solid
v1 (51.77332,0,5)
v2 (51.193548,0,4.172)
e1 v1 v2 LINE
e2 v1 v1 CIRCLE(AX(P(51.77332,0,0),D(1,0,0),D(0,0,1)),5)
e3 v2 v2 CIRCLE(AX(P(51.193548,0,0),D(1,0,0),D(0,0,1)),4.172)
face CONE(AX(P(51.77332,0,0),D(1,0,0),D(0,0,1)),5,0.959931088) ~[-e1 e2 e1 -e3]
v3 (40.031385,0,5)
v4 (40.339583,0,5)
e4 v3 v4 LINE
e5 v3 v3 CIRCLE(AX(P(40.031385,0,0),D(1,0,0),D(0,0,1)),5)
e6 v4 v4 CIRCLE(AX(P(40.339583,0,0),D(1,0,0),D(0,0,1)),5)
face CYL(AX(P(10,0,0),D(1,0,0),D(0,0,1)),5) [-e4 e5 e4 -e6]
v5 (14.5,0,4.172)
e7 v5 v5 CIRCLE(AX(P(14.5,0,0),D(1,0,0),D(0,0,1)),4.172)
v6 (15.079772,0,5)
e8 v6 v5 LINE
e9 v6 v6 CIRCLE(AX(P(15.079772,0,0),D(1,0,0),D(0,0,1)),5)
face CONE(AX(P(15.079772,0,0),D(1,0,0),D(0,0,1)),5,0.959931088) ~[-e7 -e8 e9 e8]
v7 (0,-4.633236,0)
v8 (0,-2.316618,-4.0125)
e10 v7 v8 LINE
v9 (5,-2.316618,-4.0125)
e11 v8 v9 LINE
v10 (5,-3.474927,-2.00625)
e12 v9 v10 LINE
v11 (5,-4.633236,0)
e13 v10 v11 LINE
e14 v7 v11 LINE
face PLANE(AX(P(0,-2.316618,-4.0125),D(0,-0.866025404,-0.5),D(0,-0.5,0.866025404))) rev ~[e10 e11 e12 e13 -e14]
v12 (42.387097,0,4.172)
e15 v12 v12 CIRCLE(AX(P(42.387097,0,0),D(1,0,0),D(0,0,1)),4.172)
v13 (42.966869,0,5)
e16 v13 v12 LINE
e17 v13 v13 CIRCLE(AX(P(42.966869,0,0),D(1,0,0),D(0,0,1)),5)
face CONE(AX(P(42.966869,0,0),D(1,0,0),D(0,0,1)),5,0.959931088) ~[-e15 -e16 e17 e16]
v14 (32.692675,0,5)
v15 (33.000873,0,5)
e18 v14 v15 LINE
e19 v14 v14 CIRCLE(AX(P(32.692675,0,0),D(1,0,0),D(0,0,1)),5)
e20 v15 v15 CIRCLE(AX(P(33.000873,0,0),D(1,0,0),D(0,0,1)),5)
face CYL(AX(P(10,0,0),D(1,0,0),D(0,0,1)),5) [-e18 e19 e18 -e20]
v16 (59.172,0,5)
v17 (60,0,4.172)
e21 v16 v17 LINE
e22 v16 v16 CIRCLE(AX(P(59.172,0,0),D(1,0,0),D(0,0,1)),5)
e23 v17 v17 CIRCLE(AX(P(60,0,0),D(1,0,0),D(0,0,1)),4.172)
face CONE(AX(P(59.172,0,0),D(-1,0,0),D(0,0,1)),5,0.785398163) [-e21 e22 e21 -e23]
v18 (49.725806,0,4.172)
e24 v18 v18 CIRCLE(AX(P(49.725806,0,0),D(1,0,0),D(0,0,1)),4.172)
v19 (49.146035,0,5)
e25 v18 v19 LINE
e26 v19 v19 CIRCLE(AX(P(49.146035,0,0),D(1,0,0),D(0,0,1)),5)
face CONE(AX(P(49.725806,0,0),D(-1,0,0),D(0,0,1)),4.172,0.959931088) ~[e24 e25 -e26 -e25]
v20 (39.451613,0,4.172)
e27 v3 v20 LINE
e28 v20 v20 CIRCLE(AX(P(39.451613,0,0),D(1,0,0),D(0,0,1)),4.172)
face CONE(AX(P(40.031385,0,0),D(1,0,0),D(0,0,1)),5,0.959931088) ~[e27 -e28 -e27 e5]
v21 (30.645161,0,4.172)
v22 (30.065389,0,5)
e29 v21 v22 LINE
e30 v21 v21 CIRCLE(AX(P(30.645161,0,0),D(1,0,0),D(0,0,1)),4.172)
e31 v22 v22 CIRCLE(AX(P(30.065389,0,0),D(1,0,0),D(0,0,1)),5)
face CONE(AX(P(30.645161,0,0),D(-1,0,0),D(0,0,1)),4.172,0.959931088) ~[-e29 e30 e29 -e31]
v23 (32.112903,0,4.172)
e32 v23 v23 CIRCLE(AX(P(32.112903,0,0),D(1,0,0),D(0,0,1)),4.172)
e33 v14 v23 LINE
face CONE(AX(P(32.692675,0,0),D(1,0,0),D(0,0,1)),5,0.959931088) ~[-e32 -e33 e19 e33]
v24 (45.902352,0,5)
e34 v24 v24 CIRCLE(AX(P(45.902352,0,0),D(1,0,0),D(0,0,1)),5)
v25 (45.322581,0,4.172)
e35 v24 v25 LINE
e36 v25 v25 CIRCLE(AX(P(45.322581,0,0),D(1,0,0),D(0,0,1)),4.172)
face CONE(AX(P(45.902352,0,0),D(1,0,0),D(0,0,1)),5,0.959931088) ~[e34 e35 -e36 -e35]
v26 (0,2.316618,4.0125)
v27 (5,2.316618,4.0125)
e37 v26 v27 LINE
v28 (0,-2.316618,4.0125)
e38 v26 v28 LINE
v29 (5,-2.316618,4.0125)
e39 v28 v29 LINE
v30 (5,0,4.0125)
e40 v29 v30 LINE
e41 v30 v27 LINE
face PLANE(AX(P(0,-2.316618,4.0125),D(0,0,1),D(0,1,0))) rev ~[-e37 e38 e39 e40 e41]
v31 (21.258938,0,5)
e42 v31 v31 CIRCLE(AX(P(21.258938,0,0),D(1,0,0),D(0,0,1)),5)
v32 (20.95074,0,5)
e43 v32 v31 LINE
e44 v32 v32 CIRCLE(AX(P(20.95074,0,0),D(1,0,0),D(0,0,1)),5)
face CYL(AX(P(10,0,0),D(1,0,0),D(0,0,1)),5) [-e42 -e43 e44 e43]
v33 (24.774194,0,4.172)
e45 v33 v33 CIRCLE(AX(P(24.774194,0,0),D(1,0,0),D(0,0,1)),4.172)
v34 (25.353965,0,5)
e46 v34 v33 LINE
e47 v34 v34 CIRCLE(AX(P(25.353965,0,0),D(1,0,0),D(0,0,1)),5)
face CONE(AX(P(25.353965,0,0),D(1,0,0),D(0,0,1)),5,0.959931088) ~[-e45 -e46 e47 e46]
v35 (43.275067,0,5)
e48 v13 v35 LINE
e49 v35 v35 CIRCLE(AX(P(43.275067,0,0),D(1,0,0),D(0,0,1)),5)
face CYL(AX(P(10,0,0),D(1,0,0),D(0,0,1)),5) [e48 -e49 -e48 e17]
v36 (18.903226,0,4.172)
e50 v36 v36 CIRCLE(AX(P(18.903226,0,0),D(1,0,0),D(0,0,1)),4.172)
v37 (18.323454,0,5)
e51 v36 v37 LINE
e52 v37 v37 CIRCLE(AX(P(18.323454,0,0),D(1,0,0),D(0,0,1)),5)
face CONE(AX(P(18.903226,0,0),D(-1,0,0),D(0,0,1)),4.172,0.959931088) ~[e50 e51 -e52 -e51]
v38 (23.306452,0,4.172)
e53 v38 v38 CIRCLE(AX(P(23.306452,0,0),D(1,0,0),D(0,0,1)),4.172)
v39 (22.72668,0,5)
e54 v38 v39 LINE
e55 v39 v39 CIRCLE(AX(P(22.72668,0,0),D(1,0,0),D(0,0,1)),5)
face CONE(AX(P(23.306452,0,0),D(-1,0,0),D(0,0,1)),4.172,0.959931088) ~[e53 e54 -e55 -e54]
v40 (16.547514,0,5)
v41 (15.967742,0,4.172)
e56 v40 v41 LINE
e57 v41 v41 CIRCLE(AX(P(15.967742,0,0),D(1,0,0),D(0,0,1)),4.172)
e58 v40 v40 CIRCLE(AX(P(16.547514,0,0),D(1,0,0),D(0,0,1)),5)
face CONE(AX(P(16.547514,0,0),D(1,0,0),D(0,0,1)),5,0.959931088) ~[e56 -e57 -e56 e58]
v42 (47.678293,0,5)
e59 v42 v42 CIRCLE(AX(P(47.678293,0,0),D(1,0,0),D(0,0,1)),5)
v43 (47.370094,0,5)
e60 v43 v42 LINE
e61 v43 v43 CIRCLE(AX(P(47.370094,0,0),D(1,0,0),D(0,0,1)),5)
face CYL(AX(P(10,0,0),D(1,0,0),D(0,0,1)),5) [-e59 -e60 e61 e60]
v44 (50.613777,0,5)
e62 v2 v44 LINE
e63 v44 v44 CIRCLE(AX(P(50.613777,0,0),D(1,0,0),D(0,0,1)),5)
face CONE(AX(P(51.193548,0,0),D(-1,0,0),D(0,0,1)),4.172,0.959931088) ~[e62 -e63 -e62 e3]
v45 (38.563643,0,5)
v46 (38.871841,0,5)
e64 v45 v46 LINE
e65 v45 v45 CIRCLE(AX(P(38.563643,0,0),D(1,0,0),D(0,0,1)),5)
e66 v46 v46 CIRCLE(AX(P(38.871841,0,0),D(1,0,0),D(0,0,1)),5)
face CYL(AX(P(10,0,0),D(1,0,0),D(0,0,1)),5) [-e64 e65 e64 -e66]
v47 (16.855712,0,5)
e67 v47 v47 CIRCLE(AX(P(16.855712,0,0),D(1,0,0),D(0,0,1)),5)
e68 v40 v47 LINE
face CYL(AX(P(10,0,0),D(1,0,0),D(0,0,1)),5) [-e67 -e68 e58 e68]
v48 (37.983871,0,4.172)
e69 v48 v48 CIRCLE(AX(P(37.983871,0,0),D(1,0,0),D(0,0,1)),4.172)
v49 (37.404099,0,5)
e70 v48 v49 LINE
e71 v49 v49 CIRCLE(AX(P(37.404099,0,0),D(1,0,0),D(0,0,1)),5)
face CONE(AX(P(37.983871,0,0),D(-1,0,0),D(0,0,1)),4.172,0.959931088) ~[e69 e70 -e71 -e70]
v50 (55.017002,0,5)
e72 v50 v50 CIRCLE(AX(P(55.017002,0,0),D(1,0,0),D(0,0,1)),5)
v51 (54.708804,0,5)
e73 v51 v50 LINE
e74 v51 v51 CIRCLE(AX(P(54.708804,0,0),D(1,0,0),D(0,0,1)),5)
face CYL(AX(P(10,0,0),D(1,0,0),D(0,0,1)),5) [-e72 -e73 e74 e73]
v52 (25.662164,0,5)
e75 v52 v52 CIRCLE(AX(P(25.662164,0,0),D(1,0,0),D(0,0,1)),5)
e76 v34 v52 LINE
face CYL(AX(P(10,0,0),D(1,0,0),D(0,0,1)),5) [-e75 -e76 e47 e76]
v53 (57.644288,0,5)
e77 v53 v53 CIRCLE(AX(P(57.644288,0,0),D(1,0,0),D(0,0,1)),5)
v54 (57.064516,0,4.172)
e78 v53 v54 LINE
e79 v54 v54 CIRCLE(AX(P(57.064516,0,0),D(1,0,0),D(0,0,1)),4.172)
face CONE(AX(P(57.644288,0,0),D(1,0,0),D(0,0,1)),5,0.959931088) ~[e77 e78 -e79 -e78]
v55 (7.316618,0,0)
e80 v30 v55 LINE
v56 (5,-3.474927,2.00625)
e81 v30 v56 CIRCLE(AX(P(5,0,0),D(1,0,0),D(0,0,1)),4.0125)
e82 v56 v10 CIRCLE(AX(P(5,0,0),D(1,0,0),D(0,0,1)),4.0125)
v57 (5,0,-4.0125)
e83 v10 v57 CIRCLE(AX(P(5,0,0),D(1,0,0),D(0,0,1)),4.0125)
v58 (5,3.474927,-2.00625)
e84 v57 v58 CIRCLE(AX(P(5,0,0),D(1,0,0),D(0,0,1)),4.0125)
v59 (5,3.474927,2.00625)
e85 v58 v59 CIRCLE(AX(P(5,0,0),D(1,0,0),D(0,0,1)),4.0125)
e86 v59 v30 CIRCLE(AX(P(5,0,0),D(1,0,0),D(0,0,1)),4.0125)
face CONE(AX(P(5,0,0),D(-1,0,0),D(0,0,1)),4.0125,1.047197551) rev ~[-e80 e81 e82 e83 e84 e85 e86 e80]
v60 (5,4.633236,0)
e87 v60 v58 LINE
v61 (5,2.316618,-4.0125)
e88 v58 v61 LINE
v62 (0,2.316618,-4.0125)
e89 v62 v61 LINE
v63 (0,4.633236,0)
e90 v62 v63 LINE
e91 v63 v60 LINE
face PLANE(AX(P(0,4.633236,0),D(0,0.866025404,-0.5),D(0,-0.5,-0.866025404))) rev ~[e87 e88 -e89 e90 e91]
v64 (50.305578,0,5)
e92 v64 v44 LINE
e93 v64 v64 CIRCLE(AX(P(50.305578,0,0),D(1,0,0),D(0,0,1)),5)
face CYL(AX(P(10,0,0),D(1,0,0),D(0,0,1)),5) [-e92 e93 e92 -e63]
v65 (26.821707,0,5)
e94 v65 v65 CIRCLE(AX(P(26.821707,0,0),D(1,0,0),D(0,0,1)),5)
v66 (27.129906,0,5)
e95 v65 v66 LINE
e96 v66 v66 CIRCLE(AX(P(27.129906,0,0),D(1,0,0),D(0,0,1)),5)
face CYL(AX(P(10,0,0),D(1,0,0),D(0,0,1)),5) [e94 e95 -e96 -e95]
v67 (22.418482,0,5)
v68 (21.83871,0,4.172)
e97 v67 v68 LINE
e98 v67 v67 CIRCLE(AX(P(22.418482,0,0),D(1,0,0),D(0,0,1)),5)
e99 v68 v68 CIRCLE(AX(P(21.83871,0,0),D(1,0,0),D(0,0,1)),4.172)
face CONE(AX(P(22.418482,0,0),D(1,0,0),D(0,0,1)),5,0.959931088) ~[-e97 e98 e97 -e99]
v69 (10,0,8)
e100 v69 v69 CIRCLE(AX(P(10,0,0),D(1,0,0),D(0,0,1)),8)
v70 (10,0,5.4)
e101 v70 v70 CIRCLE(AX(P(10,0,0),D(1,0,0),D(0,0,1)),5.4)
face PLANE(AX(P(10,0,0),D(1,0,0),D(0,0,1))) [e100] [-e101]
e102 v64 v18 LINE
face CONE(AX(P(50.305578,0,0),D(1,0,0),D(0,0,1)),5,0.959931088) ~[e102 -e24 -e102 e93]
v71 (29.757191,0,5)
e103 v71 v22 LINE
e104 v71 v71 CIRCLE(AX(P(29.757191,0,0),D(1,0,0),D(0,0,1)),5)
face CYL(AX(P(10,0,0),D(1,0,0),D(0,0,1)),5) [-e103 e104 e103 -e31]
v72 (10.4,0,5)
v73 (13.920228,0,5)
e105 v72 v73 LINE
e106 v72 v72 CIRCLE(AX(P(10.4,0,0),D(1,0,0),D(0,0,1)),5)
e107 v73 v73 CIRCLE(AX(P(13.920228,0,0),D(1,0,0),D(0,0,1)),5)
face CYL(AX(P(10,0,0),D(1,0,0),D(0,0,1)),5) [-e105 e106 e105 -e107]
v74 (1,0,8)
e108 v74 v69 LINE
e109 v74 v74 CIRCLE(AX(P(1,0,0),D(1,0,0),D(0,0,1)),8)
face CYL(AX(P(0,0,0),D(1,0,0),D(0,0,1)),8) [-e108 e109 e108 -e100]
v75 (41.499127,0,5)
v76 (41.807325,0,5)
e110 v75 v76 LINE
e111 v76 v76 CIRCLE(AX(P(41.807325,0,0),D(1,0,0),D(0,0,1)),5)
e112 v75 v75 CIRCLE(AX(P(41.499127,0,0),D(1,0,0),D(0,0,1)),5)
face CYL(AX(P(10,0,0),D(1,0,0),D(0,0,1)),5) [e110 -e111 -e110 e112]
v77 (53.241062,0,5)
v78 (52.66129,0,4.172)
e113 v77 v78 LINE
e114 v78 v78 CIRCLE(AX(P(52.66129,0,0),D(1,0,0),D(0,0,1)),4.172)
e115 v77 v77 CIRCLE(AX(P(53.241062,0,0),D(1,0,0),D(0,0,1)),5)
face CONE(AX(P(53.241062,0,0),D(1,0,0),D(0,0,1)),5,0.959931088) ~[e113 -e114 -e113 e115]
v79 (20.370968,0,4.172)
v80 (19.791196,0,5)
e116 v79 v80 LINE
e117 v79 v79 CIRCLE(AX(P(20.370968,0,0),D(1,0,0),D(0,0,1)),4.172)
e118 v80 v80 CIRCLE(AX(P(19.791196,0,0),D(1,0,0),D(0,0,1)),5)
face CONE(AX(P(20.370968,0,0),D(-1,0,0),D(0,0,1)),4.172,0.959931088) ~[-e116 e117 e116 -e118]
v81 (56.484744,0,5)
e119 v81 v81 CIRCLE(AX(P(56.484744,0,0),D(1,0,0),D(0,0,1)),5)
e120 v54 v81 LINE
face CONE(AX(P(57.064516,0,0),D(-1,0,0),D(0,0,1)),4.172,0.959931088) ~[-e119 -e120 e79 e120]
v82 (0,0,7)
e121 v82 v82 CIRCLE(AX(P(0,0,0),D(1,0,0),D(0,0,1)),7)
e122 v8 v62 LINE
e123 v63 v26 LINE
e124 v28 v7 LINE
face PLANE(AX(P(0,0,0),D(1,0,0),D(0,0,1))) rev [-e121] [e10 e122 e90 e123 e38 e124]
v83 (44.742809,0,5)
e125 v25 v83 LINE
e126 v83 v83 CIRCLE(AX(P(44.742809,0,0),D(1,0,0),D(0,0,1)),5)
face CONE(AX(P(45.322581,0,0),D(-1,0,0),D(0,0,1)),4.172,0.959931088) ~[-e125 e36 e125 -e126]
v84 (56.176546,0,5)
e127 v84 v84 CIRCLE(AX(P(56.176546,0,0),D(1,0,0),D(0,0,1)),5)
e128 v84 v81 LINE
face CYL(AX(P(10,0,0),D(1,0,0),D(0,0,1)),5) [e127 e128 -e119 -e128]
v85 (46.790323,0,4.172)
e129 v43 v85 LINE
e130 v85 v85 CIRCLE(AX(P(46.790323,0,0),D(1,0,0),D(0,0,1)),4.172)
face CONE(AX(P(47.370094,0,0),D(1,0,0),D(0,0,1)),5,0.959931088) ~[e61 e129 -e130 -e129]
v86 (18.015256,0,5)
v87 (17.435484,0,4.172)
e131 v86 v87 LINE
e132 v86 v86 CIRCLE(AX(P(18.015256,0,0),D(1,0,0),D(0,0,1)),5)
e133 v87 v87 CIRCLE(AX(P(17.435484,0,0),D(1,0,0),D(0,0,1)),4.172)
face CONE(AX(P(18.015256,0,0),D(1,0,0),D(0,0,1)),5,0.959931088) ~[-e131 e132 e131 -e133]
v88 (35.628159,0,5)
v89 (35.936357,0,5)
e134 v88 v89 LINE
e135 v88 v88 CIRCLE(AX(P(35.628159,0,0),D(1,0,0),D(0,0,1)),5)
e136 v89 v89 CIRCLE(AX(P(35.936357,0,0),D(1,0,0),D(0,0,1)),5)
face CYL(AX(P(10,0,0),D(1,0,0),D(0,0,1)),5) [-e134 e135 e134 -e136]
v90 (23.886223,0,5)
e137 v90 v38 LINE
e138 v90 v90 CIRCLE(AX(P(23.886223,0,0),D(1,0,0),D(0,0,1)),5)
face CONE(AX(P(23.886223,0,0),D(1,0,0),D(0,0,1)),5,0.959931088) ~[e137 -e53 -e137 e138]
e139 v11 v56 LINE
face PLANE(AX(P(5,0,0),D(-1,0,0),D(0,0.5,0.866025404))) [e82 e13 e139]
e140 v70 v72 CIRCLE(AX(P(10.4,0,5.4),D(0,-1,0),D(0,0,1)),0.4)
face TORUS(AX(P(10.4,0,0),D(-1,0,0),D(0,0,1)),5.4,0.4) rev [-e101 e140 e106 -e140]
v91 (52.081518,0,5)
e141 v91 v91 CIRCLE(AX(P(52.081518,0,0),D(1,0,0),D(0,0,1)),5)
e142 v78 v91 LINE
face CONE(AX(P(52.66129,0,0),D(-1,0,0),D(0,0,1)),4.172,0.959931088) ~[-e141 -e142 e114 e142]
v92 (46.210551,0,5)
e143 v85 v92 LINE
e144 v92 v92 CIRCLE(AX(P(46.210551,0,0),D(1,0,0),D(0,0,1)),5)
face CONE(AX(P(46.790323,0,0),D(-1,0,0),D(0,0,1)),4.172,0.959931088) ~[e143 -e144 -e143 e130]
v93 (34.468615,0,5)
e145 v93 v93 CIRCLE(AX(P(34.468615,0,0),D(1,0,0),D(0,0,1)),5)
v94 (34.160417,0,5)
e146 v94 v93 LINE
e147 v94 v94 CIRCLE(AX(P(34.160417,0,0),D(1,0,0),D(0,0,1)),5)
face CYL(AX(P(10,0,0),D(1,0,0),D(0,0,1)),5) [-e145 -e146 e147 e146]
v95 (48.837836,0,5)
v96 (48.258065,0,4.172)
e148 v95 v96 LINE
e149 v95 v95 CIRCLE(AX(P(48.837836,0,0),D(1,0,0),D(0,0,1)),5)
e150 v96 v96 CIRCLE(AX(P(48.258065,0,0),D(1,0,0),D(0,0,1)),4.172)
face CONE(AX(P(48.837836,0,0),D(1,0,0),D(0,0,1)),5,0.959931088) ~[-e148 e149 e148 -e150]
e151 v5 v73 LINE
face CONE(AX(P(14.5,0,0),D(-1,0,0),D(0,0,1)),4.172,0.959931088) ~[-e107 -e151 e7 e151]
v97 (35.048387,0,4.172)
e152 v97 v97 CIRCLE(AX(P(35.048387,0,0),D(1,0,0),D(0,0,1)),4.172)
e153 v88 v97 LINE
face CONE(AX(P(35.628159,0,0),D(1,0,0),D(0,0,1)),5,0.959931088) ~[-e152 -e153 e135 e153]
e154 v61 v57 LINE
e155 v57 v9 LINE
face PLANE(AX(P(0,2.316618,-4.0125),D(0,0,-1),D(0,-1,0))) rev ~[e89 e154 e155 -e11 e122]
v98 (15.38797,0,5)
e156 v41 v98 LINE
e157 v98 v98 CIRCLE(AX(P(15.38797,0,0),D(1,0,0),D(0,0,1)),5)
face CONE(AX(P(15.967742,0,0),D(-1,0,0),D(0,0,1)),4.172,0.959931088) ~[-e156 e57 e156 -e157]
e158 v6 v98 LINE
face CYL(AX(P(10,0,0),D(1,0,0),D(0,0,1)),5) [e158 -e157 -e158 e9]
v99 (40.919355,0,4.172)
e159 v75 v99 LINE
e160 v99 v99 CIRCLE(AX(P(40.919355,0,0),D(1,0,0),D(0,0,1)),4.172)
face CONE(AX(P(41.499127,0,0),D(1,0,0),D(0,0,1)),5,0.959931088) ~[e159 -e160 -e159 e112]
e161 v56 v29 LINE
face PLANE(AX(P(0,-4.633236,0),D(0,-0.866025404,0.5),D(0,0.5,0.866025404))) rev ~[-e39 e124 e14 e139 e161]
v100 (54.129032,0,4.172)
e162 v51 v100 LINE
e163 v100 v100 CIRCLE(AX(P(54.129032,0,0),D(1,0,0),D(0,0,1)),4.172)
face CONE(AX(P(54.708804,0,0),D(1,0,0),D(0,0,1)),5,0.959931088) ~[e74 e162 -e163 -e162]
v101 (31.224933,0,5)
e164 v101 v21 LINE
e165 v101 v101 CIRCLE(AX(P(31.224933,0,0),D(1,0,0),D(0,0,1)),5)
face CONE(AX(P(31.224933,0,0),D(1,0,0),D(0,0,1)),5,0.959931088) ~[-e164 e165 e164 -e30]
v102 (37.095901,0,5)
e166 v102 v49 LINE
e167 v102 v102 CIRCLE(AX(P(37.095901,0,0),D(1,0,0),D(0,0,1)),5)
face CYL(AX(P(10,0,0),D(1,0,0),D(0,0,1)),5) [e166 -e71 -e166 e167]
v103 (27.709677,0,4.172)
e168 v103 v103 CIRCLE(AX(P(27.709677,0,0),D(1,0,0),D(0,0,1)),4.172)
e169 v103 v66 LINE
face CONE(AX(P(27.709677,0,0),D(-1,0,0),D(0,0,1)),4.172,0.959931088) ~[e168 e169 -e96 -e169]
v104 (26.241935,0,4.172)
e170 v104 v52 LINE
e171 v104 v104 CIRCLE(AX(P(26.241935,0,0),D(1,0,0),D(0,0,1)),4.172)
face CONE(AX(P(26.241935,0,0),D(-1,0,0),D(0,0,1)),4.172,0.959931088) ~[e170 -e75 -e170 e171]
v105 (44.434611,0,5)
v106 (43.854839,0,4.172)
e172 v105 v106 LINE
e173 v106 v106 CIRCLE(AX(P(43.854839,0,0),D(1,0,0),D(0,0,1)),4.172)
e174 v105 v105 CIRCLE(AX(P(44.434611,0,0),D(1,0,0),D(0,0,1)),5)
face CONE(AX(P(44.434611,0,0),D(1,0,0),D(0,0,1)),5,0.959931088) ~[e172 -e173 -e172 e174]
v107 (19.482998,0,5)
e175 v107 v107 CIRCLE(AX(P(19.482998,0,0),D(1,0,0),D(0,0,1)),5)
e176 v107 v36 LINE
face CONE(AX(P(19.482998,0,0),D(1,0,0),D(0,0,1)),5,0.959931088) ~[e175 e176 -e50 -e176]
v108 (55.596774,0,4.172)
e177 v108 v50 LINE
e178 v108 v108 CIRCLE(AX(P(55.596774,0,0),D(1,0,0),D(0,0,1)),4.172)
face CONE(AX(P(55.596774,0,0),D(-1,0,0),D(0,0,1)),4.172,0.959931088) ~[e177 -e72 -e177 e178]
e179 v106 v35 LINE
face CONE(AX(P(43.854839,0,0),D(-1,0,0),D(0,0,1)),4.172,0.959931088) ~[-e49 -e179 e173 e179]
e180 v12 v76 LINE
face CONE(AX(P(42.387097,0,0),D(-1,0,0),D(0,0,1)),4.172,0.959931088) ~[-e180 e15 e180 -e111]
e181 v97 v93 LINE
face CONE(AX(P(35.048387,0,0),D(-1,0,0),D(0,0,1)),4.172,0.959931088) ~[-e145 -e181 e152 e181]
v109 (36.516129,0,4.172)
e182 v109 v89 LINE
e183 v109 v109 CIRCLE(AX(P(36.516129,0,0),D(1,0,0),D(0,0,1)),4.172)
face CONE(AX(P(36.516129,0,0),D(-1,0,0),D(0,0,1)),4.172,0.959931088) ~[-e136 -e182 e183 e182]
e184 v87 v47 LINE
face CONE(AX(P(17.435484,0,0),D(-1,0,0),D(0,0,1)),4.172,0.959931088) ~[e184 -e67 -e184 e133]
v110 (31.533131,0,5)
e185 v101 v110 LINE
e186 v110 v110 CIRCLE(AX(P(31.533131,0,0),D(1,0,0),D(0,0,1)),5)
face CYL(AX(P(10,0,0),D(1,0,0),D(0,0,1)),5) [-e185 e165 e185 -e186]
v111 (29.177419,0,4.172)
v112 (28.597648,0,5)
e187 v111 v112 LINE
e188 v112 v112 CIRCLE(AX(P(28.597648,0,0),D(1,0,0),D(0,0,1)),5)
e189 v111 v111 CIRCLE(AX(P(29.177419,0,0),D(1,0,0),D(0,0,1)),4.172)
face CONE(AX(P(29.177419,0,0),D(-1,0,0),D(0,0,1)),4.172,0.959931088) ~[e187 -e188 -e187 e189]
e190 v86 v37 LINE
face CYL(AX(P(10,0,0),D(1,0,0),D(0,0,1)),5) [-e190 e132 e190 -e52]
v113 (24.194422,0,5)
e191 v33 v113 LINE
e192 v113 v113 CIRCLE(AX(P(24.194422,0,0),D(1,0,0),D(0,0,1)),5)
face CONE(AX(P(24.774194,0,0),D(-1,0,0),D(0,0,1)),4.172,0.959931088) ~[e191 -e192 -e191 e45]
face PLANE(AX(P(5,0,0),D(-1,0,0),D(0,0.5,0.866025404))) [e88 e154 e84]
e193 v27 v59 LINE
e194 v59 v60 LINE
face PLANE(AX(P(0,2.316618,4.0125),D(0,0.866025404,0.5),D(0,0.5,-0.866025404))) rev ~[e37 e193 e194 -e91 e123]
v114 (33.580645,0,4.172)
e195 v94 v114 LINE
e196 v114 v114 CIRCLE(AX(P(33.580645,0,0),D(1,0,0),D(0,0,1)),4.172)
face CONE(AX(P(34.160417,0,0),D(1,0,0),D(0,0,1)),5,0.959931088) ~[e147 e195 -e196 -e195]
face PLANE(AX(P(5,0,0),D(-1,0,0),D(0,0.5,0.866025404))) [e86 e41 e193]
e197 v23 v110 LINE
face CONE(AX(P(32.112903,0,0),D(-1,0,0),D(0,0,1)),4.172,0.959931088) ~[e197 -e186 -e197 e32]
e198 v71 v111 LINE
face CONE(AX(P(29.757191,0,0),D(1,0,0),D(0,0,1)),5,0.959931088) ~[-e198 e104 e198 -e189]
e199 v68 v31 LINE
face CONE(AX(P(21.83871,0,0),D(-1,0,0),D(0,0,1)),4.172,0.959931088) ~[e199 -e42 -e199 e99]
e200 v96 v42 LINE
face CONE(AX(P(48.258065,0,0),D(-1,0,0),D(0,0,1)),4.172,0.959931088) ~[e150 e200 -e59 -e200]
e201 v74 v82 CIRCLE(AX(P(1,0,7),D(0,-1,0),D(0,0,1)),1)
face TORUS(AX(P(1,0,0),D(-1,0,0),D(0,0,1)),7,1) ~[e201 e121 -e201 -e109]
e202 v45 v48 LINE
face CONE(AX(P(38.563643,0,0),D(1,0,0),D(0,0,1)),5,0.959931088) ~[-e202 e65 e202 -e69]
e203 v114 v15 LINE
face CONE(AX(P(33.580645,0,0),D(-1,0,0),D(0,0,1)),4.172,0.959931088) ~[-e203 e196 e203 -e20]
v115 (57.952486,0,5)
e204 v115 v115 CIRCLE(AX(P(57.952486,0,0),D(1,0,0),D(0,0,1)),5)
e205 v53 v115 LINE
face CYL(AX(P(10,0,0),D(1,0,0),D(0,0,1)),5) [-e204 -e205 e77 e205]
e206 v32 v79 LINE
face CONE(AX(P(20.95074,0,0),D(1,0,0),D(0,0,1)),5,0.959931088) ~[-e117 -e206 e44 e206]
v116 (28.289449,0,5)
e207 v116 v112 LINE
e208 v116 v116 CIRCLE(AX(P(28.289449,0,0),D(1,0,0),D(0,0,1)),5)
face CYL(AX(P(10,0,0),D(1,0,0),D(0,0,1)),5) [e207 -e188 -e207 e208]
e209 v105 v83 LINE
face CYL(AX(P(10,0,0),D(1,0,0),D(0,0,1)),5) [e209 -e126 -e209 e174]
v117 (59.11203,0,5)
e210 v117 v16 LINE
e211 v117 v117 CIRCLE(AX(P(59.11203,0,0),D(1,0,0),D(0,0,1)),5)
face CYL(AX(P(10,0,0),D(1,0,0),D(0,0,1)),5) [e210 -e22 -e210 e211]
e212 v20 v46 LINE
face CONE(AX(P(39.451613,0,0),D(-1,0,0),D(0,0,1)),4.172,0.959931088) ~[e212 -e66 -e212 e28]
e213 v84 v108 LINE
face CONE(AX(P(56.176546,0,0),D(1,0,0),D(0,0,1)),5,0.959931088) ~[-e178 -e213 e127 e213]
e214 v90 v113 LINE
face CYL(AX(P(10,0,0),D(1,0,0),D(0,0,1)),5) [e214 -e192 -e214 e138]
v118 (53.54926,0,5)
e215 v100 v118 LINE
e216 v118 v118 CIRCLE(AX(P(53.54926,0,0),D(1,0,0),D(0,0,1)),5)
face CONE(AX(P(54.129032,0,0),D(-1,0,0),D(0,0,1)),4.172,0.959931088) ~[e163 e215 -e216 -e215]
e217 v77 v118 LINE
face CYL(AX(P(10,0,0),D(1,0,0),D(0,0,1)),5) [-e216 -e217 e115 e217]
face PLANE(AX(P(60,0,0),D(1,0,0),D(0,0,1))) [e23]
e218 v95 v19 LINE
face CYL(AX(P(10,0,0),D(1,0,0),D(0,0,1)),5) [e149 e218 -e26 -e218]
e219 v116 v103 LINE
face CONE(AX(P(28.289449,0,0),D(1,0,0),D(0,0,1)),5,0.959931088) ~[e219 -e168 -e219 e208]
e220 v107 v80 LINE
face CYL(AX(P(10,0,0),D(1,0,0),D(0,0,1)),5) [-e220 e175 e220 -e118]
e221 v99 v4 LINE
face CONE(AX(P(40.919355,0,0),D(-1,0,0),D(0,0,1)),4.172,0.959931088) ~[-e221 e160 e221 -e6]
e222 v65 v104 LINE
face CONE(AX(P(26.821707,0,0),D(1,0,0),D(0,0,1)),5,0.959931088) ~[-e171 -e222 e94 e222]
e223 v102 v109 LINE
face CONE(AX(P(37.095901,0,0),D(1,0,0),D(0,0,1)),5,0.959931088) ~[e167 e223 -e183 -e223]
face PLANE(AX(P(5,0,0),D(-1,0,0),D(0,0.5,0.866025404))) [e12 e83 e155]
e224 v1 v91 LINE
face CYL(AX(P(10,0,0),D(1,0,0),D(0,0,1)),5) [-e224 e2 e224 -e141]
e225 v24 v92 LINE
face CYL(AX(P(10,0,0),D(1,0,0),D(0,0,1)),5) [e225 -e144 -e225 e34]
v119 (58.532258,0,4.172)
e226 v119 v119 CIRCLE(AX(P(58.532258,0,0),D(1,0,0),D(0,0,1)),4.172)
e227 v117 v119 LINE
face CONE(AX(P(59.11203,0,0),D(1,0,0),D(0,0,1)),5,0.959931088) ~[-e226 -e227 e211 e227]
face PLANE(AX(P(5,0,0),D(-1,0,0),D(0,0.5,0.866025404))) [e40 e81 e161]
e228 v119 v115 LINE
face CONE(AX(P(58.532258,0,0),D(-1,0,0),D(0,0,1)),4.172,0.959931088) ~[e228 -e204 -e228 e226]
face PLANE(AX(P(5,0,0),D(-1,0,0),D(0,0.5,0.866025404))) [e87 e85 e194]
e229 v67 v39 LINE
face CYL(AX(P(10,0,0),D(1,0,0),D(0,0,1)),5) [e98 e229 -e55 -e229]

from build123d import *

# Parameters (mm, degrees)
FILLET1_R       = 0.4
FILLET2_R       = 1
HEX_2_DEPTH     = 5
THDSCHPAT_COUNT = 31
THDSCHPAT_PITCH = 1.467741935


with BuildPart() as part:
    # BodySke → Base-Revolve (revolve)
    with BuildSketch(Plane.XY, mode=Mode.PRIVATE) as base_revolve_sk:
        Polygon((0, 0), (0, 8), (10, 8), (10, 5), (59.172, 5), (60, 4.172), (60, 0), align=None)
    revolve(base_revolve_sk.sketch.rotate(Axis((-31.75, 0, 0), (1, 0, 0)), 90), axis=Axis((-31.75, 0, 0), (1, 0, 0)))  # turned: the seam where the file's is

    # Fillet1
    fillet1_edges = [part.edges().sort_by_distance(p)[0] for p in [
        (10, 0, -5),
    ]]
    fillet(fillet1_edges, radius=FILLET1_R)

    # Fillet2
    fillet2_edges = [part.edges().sort_by_distance(p)[0] for p in [
        (0, 0, -8),
    ]]
    fillet(fillet2_edges, radius=FILLET2_R)

    # Sketch2 → Hex-PreBroach (revolve, cut)
    with BuildSketch(Plane.XY, mode=Mode.PRIVATE) as hex_prebroach_sk:
        Polygon((0, 4.0125), (5, 4.0125), (7.316617955, 0), (0, 0), align=None)
    revolve(hex_prebroach_sk.sketch.rotate(Axis((0, 0, 0), (1, 0, 0)), 90), axis=Axis((0, 0, 0), (1, 0, 0)), mode=Mode.SUBTRACT)  # turned: the seam where the file's is

    # Sketch3 → Hex 2 (cut)
    with BuildSketch(Plane(origin=(0, 0, 0), x_dir=(0, 0.5, 0.866025404), z_dir=(-1, 0, 0))):
        Polygon((2.316617955, 4.0125), (-2.316617955, 4.0125), (-4.63323591, 0), (-2.316617955, -4.0125), (2.316617955, -4.0125), (4.63323591, 0), align=None)
    extrude(amount=-HEX_2_DEPTH, mode=Mode.SUBTRACT)

    # ThdSchSke → ThreadSchematic (revolve, cut)
    with BuildSketch(Plane.XY, mode=Mode.PRIVATE) as threadschematic_sk:
        Polygon((14.5, -4.172), (13.920228158, -5), (13.920228158, -6.25), (15.079771842, -6.25), (15.079771842, -5), align=None)
    threadschematic = revolve(threadschematic_sk.sketch.rotate(Axis((-3.175, 0, 0), (1, 0, 0)), 270), axis=Axis((-3.175, 0, 0), (1, 0, 0)), mode=Mode.SUBTRACT)  # turned: the seam where the file's is

    # ThdSchPat: ThreadSchematic ×31
    with Locations(*[(i * THDSCHPAT_PITCH, 0, 0) for i in range(1, THDSCHPAT_COUNT)]):
        add(threadschematic, mode=Mode.SUBTRACT)


solid = part.part
